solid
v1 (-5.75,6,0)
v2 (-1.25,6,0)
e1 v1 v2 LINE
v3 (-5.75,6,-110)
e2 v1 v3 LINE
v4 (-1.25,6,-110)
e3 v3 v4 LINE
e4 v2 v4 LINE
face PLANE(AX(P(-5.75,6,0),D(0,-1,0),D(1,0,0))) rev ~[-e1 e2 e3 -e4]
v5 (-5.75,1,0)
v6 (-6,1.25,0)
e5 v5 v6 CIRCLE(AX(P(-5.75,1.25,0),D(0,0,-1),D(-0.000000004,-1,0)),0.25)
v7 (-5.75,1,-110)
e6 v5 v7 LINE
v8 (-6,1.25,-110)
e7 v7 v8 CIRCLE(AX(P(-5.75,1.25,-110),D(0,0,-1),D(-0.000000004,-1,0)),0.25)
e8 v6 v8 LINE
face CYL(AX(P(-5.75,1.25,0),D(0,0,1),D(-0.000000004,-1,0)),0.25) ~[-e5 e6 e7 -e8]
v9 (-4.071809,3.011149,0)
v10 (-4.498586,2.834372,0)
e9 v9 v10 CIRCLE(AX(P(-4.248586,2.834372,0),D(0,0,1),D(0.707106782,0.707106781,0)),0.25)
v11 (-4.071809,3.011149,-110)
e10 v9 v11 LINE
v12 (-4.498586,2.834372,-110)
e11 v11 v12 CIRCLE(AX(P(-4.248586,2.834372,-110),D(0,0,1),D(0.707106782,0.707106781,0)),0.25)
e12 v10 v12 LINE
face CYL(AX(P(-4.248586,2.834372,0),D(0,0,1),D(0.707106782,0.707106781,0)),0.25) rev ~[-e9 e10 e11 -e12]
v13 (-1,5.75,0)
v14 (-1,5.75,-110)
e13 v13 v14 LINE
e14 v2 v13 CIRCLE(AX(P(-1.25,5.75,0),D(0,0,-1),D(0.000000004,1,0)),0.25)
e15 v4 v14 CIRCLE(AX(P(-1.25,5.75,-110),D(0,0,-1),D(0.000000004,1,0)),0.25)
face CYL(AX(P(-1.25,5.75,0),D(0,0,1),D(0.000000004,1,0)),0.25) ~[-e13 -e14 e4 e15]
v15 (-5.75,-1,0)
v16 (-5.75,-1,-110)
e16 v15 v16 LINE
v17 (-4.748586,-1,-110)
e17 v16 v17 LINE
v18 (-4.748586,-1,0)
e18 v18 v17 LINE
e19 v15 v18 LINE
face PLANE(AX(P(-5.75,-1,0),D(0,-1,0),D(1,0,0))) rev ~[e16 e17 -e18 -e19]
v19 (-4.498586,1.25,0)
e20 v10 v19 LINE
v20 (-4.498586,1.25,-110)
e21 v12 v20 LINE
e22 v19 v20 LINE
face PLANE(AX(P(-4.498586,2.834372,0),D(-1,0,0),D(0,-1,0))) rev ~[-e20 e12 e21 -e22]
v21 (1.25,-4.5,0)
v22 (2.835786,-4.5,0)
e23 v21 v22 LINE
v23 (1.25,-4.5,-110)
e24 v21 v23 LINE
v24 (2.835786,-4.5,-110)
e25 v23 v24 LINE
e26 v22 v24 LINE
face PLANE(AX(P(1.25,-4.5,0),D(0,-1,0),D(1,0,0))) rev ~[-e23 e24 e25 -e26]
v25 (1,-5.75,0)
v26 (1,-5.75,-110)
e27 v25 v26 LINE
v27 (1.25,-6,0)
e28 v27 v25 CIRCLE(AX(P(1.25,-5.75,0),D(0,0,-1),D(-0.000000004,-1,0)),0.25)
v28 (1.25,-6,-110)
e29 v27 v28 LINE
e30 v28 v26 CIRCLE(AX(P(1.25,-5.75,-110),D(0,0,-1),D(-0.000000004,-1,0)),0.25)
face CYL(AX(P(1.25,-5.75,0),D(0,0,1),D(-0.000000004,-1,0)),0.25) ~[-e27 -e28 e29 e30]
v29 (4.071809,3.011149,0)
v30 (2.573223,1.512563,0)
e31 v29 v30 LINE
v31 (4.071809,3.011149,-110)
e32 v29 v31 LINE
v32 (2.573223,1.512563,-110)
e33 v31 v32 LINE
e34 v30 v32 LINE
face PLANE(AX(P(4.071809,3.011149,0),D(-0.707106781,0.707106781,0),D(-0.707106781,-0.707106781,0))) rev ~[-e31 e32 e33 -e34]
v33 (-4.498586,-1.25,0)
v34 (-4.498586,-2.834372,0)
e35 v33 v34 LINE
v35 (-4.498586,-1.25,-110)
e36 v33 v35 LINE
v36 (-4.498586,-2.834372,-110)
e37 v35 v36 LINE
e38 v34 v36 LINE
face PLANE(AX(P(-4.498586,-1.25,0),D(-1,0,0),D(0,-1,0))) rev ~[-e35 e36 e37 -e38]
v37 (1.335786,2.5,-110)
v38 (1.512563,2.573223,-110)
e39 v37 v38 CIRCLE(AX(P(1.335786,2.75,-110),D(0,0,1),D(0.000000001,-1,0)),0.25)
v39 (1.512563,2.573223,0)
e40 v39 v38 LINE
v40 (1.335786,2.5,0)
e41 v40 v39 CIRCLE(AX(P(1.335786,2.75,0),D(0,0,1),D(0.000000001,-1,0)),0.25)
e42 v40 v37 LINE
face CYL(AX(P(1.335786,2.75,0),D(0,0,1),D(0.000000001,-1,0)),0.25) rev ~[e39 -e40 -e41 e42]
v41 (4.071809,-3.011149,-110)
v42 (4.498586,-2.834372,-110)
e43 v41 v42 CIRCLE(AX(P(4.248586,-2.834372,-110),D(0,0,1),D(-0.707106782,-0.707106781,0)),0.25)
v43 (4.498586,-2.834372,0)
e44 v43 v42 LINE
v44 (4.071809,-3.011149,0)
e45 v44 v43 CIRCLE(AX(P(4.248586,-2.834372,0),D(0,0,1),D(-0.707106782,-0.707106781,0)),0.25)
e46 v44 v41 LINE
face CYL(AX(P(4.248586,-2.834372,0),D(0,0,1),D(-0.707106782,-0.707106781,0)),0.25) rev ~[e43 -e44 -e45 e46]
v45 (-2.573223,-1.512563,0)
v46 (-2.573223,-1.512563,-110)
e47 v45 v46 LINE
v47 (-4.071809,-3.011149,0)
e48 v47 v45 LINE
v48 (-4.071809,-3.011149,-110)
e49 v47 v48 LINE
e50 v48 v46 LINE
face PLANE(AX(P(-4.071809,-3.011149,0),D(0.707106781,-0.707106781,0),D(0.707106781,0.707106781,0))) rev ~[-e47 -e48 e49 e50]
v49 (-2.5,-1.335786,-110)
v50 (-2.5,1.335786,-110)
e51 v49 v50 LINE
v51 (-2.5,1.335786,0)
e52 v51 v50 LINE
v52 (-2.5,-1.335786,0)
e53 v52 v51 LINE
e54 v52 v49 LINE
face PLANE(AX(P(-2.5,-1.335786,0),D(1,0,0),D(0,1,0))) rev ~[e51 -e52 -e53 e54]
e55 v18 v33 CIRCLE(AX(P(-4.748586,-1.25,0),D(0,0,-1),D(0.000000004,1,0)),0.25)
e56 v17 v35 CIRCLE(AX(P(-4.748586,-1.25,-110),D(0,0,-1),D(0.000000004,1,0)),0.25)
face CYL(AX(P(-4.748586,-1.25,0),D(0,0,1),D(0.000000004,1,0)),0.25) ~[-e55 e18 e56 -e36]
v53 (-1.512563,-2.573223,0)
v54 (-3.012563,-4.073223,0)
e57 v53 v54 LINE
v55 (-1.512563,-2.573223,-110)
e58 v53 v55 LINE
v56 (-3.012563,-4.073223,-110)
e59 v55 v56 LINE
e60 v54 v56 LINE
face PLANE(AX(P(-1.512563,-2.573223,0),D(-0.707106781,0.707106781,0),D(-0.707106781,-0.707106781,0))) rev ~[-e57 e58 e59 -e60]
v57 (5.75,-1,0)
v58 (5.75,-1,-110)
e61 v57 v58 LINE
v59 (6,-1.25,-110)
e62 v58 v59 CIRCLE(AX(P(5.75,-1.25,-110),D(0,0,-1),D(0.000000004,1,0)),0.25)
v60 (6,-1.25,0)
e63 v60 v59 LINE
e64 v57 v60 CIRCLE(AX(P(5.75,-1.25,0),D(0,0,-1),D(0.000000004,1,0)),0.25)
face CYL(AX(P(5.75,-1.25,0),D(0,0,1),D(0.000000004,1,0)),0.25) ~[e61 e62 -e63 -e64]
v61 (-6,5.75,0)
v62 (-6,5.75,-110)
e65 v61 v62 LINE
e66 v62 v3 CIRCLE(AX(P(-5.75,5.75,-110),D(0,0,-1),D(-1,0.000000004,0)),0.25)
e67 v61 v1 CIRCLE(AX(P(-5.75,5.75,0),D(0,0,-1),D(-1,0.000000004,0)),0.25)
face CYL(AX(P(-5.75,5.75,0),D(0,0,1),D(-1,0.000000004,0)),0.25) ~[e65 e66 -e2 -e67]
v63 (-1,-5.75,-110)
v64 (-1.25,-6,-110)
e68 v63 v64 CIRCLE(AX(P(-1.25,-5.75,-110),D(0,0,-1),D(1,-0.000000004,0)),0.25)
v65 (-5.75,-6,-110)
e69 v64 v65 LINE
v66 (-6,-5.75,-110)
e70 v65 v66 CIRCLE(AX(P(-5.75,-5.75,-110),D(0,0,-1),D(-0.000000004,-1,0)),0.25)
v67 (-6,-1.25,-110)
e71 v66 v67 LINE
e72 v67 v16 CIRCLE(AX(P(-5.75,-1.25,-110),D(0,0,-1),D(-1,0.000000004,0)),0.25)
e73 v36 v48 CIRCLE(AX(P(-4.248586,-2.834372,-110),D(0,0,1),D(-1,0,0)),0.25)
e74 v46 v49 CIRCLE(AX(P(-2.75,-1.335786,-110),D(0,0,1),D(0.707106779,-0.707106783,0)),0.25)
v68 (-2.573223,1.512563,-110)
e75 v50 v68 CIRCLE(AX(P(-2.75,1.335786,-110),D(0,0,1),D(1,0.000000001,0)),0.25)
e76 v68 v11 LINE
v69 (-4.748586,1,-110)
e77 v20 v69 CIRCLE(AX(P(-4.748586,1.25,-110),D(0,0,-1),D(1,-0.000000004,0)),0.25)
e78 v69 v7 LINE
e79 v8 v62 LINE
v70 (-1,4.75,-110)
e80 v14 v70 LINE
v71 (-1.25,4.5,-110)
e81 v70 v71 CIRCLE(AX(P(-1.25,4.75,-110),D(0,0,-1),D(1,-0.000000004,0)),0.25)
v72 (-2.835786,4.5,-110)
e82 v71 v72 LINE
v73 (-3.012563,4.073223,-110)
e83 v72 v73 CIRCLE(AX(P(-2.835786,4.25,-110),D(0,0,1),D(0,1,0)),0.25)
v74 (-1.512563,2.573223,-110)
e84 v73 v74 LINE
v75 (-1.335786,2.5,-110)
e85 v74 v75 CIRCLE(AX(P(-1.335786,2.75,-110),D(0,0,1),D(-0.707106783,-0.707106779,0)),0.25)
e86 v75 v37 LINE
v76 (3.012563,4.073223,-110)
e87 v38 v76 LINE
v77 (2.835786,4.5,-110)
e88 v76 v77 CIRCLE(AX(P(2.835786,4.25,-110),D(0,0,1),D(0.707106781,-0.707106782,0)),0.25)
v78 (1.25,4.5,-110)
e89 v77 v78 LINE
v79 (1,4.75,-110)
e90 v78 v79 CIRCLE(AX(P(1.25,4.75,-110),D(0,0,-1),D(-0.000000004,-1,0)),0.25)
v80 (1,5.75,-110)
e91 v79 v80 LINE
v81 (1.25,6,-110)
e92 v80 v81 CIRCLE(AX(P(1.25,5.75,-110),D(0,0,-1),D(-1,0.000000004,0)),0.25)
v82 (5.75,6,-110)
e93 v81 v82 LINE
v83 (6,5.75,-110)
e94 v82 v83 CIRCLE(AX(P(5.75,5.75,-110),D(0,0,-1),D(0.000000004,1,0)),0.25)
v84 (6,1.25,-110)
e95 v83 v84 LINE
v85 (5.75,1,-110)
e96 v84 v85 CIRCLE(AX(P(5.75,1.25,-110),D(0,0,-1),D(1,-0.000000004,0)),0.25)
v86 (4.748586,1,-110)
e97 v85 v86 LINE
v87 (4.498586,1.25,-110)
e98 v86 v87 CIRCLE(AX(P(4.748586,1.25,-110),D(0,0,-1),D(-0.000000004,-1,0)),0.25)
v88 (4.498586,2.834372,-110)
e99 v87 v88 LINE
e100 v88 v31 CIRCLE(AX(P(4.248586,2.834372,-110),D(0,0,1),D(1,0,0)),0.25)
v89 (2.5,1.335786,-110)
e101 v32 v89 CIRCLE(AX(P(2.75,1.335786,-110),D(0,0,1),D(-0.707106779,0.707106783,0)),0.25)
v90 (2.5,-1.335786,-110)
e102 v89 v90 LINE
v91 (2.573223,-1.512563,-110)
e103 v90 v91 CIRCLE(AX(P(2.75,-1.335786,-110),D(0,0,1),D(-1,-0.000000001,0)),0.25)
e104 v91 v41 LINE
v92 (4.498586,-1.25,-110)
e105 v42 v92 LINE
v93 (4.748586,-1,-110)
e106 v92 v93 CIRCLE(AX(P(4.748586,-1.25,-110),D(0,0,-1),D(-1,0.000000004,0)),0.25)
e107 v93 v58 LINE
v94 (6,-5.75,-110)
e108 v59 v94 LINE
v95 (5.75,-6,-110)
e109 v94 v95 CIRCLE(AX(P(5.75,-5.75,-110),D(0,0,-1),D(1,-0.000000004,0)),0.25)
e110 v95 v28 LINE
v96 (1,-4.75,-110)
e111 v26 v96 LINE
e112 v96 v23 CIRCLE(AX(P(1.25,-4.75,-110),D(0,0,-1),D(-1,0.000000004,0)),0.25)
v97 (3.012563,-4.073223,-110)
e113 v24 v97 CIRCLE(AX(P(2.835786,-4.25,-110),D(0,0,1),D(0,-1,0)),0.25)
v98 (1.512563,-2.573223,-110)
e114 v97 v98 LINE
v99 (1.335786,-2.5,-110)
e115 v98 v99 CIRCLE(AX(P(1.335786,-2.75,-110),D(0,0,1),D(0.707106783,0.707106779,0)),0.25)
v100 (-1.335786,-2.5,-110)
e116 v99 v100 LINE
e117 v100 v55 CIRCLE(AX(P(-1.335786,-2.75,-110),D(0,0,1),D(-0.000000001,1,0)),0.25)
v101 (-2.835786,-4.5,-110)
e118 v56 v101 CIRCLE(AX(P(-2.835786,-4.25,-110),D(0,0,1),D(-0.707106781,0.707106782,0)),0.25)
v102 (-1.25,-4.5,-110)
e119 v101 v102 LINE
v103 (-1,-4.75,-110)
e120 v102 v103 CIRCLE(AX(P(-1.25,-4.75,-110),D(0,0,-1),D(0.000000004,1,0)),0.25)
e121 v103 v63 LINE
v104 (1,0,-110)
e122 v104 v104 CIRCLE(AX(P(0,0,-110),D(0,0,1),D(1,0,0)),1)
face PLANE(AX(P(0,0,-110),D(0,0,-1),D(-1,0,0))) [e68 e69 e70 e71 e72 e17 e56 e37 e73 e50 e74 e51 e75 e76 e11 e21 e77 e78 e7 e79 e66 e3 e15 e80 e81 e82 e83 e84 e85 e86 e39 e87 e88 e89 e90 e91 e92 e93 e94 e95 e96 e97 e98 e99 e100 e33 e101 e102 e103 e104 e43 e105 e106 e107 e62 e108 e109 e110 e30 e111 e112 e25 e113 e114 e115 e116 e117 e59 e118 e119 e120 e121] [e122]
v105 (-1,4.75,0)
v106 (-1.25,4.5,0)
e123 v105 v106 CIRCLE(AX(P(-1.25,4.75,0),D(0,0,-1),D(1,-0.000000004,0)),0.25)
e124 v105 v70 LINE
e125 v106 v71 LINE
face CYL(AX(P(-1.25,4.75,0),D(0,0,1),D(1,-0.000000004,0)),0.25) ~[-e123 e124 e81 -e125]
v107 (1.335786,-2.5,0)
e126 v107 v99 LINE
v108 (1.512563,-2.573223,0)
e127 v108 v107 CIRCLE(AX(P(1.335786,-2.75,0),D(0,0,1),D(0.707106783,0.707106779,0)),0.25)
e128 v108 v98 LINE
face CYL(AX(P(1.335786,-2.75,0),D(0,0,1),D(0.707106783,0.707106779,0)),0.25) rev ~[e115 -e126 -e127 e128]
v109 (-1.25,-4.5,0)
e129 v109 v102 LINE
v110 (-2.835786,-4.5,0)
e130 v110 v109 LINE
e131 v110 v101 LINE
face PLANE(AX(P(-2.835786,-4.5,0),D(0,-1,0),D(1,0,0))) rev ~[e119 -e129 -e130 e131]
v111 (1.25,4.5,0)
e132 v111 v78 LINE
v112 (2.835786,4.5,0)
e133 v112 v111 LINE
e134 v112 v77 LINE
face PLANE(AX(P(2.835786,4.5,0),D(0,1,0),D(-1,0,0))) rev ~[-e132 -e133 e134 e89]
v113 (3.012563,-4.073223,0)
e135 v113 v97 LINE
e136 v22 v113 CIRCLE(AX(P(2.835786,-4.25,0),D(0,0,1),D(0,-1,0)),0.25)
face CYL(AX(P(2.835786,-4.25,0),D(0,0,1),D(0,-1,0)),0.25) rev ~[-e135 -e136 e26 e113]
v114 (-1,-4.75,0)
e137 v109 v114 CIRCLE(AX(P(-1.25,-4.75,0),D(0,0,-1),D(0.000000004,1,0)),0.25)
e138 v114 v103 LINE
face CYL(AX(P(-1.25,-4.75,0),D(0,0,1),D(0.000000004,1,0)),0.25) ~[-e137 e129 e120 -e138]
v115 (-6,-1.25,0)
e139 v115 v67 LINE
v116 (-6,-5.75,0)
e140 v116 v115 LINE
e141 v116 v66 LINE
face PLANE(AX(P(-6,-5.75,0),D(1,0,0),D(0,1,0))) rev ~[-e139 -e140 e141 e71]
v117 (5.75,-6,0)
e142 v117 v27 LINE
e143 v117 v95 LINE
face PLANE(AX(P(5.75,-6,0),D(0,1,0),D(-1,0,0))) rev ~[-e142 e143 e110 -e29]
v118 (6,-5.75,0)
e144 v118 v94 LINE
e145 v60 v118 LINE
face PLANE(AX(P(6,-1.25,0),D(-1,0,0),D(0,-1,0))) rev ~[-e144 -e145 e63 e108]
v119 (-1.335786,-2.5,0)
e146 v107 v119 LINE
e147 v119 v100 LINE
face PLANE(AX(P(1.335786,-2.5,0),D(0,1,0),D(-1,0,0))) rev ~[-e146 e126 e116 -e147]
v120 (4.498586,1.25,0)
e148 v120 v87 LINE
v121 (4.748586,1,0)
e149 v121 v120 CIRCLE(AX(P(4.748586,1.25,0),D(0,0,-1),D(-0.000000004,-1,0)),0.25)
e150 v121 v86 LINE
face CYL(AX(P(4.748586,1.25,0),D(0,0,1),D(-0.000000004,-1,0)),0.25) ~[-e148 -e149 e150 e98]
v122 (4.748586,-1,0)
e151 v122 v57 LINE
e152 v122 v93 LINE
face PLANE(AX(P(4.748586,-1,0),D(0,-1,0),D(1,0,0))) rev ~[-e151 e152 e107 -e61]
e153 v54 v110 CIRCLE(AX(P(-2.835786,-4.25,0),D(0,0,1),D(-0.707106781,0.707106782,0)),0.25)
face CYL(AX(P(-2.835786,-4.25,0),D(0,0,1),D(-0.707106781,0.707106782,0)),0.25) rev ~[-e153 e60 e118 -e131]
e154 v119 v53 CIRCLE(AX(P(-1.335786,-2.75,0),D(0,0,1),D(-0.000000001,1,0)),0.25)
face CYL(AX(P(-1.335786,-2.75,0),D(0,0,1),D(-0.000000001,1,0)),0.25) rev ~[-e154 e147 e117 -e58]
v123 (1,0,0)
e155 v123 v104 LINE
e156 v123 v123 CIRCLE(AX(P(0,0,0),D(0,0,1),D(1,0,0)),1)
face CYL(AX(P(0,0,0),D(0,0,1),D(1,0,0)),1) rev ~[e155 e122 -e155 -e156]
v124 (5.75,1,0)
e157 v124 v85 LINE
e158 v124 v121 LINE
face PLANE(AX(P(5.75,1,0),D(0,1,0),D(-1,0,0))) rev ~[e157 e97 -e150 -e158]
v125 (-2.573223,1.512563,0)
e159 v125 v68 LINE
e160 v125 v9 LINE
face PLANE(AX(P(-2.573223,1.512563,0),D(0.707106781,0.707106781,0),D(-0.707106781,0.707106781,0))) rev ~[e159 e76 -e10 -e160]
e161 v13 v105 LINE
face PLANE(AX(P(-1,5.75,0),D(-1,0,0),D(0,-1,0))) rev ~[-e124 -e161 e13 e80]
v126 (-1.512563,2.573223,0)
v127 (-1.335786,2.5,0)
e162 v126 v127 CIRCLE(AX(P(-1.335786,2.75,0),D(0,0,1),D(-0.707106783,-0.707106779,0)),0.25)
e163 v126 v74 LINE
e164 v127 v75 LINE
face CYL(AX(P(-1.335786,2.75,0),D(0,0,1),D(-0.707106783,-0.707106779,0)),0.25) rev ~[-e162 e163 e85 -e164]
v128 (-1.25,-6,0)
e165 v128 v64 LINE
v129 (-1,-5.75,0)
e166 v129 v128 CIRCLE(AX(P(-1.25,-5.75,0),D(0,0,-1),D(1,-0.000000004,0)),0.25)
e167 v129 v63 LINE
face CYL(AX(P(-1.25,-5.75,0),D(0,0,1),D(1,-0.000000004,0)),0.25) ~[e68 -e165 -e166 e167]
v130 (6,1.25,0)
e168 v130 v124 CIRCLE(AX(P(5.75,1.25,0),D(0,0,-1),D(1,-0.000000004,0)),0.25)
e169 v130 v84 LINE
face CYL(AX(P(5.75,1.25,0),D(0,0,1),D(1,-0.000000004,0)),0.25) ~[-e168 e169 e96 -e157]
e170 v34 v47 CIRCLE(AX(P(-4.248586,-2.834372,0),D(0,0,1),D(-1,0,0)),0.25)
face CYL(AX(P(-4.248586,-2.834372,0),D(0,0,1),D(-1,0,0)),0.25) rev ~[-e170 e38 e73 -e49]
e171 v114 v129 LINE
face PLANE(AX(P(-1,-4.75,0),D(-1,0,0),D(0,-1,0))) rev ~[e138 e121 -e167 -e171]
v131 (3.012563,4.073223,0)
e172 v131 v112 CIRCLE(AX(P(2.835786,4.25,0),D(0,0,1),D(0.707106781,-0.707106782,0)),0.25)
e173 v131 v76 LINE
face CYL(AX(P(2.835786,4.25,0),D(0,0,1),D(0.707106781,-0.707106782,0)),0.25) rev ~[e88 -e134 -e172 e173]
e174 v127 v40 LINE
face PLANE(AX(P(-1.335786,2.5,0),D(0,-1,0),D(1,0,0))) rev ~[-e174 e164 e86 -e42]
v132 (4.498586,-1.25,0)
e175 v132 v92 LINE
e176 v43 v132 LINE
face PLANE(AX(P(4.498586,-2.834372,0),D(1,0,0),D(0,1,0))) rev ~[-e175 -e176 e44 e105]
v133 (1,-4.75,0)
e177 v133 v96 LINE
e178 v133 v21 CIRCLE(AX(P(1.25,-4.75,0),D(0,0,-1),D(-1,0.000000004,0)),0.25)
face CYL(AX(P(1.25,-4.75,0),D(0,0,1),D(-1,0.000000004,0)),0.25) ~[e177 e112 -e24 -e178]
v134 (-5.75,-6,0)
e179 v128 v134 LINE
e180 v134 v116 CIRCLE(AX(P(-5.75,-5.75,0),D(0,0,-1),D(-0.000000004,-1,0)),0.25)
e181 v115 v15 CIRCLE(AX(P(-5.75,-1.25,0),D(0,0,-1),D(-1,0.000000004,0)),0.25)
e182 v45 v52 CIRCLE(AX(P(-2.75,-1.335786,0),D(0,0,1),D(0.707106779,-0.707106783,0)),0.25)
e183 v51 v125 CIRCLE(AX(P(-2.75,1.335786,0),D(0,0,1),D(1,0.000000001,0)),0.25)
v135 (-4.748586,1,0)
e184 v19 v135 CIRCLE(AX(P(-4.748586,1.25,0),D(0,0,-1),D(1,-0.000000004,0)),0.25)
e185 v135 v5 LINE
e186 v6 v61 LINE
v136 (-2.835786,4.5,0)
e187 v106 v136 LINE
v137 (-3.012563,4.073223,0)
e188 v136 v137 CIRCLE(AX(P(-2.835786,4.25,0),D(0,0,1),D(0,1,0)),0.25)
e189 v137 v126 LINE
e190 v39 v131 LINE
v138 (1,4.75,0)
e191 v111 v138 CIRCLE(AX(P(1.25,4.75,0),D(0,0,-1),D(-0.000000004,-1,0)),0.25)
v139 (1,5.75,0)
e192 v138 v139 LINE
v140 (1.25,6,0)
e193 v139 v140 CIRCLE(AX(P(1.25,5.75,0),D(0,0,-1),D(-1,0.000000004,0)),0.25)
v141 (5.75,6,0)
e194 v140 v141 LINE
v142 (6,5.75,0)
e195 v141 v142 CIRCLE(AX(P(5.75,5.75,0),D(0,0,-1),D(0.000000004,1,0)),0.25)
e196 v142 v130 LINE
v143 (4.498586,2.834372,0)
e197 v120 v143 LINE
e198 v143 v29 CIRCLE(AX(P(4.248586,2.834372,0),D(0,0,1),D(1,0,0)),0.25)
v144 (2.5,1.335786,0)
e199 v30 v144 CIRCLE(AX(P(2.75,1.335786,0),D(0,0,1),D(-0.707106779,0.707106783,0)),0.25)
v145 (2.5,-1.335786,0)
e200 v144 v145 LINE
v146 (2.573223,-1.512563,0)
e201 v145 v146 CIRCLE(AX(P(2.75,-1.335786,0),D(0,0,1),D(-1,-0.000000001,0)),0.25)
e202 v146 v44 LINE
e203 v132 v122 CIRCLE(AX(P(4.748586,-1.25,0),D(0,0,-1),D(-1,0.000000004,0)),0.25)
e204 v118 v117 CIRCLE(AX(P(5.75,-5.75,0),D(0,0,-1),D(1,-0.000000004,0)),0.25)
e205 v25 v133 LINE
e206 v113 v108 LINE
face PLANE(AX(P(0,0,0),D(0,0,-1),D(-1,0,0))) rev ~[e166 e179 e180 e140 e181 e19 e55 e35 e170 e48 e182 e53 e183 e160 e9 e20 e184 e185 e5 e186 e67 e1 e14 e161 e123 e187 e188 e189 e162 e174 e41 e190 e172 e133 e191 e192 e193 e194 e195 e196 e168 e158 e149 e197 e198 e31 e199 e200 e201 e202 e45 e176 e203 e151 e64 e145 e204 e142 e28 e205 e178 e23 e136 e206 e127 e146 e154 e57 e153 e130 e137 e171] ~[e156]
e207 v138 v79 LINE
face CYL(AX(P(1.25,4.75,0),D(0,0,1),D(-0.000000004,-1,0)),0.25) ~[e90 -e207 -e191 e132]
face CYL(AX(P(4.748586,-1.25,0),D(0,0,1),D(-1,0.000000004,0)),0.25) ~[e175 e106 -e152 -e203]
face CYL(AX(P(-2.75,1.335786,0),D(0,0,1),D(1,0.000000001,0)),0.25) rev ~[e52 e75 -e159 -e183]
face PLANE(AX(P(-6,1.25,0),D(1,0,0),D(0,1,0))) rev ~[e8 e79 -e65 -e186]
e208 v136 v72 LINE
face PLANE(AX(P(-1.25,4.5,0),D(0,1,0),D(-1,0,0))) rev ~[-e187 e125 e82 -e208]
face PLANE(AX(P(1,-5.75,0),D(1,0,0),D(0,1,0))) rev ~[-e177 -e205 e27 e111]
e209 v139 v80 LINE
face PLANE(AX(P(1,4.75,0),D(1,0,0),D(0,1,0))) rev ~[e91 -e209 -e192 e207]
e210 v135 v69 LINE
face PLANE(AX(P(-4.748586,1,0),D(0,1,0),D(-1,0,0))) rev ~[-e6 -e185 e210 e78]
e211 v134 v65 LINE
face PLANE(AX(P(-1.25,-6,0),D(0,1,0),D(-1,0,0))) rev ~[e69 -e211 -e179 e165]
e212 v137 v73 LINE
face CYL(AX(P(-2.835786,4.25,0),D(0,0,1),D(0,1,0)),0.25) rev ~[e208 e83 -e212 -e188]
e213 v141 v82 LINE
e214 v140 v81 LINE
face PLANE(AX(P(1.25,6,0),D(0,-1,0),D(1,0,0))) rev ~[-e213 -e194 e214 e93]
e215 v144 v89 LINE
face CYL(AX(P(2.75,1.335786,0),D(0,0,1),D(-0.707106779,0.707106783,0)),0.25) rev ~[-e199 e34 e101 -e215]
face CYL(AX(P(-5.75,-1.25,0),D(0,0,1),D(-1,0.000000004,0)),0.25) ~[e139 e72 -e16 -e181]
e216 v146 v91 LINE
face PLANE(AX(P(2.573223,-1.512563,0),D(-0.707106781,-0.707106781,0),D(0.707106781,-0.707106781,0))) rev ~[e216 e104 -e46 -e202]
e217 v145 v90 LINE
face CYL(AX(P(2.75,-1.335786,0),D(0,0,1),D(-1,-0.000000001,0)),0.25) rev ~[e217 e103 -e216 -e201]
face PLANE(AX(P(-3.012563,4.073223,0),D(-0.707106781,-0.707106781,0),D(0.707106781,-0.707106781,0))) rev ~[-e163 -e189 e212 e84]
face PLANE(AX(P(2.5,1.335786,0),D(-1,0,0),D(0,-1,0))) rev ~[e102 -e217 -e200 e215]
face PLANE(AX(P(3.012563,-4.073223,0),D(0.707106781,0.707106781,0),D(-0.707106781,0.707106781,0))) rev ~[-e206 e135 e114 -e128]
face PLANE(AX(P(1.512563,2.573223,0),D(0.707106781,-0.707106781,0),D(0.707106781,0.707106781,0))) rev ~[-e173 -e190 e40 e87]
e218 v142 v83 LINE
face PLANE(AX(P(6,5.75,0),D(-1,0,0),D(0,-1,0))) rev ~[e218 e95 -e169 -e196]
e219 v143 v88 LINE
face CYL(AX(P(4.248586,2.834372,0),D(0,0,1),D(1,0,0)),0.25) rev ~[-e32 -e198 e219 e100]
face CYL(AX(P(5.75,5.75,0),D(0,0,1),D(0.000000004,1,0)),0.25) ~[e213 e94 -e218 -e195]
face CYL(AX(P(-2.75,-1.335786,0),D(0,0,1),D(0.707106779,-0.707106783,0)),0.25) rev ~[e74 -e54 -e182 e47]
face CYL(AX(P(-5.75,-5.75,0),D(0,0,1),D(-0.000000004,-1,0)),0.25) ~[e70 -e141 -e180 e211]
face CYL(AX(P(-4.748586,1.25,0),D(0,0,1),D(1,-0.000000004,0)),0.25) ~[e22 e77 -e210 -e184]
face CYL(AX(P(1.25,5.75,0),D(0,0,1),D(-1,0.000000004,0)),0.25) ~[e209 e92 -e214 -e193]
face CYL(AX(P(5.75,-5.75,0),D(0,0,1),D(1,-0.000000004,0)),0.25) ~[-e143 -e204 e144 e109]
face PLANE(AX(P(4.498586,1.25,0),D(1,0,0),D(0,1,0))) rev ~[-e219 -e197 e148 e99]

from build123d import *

# Parameters (mm, degrees)
SKETCH2_R           = 1
BOSS_EXTRUDE1_DEPTH = 110


with BuildPart() as part:
    # Sketch2 → Boss-Extrude1 (new body)
    with BuildSketch(Plane.XY):
        with BuildLine():
            Line((0, 2.5), (1.335786438, 2.5))
            ThreePointArc((1.335786438, 2.5), (1.431457296, 2.519030117), (1.512563133, 2.573223305))
            Line((1.512563133, 2.573223305), (3.012563133, 4.073223305))
            ThreePointArc((3.012563133, 4.073223305), (3.066756321, 4.345670858), (2.835786438, 4.5))
            Line((2.835786438, 4.5), (1.25, 4.5))
            ThreePointArc((1.25, 4.5), (1.073223305, 4.573223305), (1, 4.75))
            Line((1, 4.75), (1, 5.75))
            ThreePointArc((1, 5.75), (1.073223305, 5.926776695), (1.25, 6))
            Line((1.25, 6), (5.75, 6))
            ThreePointArc((5.75, 6), (5.926776695, 5.926776695), (6, 5.75))
            Line((6, 5.75), (6, 1.25))
            ThreePointArc((6, 1.25), (5.926776695, 1.073223305), (5.75, 1))
            Line((5.75, 1), (4.748585621, 1))
            ThreePointArc((4.748585621, 1), (4.571808926, 1.073223305), (4.498585621, 1.25))
            Line((4.498585621, 1.25), (4.498585621, 2.834372059))
            ThreePointArc((4.498585621, 2.834372059), (4.344256479, 3.065341942), (4.071808926, 3.011148754))
            Line((4.071808926, 3.011148754), (2.573223305, 1.512563133))
            ThreePointArc((2.573223305, 1.512563133), (2.519030117, 1.431457296), (2.5, 1.335786438))
            Line((2.5, 1.335786438), (2.5, -1.335786438))
            ThreePointArc((2.5, -1.335786438), (2.519030117, -1.431457296), (2.573223305, -1.512563133))
            Line((2.573223305, -1.512563133), (4.071808926, -3.011148754))
            ThreePointArc((4.071808926, -3.011148754), (4.344256479, -3.065341942), (4.498585621, -2.834372059))
            Line((4.498585621, -2.834372059), (4.498585621, -1.25))
            ThreePointArc((4.498585621, -1.25), (4.571808926, -1.073223305), (4.748585621, -1))
            Line((4.748585621, -1), (5.75, -1))
            ThreePointArc((5.75, -1), (5.926776695, -1.073223305), (6, -1.25))
            Line((6, -1.25), (6, -5.75))
            ThreePointArc((6, -5.75), (5.926776695, -5.926776695), (5.75, -6))
            Line((5.75, -6), (1.25, -6))
            ThreePointArc((1.25, -6), (1.073223305, -5.926776695), (1, -5.75))
            Line((1, -5.75), (1, -4.75))
            ThreePointArc((1, -4.75), (1.073223305, -4.573223305), (1.25, -4.5))
            Line((1.25, -4.5), (2.835786438, -4.5))
            ThreePointArc((2.835786438, -4.5), (3.066756321, -4.345670858), (3.012563133, -4.073223305))
            Line((3.012563133, -4.073223305), (1.512563133, -2.573223305))
            ThreePointArc((1.512563133, -2.573223305), (1.431457296, -2.519030117), (1.335786438, -2.5))
            Line((1.335786438, -2.5), (-1.335786438, -2.5))
            ThreePointArc((-1.335786438, -2.5), (-1.431457296, -2.519030117), (-1.512563133, -2.573223305))
            Line((-1.512563133, -2.573223305), (-3.012563133, -4.073223305))
            ThreePointArc((-3.012563133, -4.073223305), (-3.066756321, -4.345670858), (-2.835786438, -4.5))
            Line((-2.835786438, -4.5), (-1.25, -4.5))
            ThreePointArc((-1.25, -4.5), (-1.073223305, -4.573223305), (-1, -4.75))
            Line((-1, -4.75), (-1, -5.75))
            ThreePointArc((-1, -5.75), (-1.073223305, -5.926776695), (-1.25, -6))
            Line((-1.25, -6), (-5.75, -6))
            ThreePointArc((-5.75, -6), (-5.926776695, -5.926776695), (-6, -5.75))
            Line((-6, -5.75), (-6, -1.25))
            ThreePointArc((-6, -1.25), (-5.926776695, -1.073223305), (-5.75, -1))
            Line((-5.75, -1), (-4.748585621, -1))
            ThreePointArc((-4.748585621, -1), (-4.571808926, -1.073223305), (-4.498585621, -1.25))
            Line((-4.498585621, -1.25), (-4.498585621, -2.834372059))
            ThreePointArc((-4.498585621, -2.834372059), (-4.344256479, -3.065341942), (-4.071808926, -3.011148754))
            Line((-4.071808926, -3.011148754), (-2.573223305, -1.512563133))
            ThreePointArc((-2.573223305, -1.512563133), (-2.519030117, -1.431457296), (-2.5, -1.335786438))
            Line((-2.5, -1.335786438), (-2.5, 1.335786438))
            ThreePointArc((-2.5, 1.335786438), (-2.519030117, 1.431457296), (-2.573223305, 1.512563133))
            Line((-2.573223305, 1.512563133), (-4.071808926, 3.011148754))
            ThreePointArc((-4.071808926, 3.011148754), (-4.344256479, 3.065341942), (-4.498585621, 2.834372059))
            Line((-4.498585621, 2.834372059), (-4.498585621, 1.25))
            ThreePointArc((-4.498585621, 1.25), (-4.571808926, 1.073223305), (-4.748585621, 1))
            Line((-4.748585621, 1), (-5.75, 1))
            ThreePointArc((-5.75, 1), (-5.926776695, 1.073223305), (-6, 1.25))
            Line((-6, 1.25), (-6, 5.75))
            ThreePointArc((-6, 5.75), (-5.926776695, 5.926776695), (-5.75, 6))
            Line((-5.75, 6), (-1.25, 6))
            ThreePointArc((-1.25, 6), (-1.073223305, 5.926776695), (-1, 5.75))
            Line((-1, 5.75), (-1, 4.75))
            ThreePointArc((-1, 4.75), (-1.073223305, 4.573223305), (-1.25, 4.5))
            Line((-1.25, 4.5), (-2.835786438, 4.5))
            ThreePointArc((-2.835786438, 4.5), (-3.066756321, 4.345670858), (-3.012563133, 4.073223305))
            Line((-3.012563133, 4.073223305), (-1.512563133, 2.573223305))
            ThreePointArc((-1.512563133, 2.573223305), (-1.431457296, 2.519030117), (-1.335786438, 2.5))
            Line((-1.335786438, 2.5), (0, 2.5))
        make_face()
        Circle(SKETCH2_R, mode=Mode.SUBTRACT)
    extrude(amount=-BOSS_EXTRUDE1_DEPTH)


solid = part.part
